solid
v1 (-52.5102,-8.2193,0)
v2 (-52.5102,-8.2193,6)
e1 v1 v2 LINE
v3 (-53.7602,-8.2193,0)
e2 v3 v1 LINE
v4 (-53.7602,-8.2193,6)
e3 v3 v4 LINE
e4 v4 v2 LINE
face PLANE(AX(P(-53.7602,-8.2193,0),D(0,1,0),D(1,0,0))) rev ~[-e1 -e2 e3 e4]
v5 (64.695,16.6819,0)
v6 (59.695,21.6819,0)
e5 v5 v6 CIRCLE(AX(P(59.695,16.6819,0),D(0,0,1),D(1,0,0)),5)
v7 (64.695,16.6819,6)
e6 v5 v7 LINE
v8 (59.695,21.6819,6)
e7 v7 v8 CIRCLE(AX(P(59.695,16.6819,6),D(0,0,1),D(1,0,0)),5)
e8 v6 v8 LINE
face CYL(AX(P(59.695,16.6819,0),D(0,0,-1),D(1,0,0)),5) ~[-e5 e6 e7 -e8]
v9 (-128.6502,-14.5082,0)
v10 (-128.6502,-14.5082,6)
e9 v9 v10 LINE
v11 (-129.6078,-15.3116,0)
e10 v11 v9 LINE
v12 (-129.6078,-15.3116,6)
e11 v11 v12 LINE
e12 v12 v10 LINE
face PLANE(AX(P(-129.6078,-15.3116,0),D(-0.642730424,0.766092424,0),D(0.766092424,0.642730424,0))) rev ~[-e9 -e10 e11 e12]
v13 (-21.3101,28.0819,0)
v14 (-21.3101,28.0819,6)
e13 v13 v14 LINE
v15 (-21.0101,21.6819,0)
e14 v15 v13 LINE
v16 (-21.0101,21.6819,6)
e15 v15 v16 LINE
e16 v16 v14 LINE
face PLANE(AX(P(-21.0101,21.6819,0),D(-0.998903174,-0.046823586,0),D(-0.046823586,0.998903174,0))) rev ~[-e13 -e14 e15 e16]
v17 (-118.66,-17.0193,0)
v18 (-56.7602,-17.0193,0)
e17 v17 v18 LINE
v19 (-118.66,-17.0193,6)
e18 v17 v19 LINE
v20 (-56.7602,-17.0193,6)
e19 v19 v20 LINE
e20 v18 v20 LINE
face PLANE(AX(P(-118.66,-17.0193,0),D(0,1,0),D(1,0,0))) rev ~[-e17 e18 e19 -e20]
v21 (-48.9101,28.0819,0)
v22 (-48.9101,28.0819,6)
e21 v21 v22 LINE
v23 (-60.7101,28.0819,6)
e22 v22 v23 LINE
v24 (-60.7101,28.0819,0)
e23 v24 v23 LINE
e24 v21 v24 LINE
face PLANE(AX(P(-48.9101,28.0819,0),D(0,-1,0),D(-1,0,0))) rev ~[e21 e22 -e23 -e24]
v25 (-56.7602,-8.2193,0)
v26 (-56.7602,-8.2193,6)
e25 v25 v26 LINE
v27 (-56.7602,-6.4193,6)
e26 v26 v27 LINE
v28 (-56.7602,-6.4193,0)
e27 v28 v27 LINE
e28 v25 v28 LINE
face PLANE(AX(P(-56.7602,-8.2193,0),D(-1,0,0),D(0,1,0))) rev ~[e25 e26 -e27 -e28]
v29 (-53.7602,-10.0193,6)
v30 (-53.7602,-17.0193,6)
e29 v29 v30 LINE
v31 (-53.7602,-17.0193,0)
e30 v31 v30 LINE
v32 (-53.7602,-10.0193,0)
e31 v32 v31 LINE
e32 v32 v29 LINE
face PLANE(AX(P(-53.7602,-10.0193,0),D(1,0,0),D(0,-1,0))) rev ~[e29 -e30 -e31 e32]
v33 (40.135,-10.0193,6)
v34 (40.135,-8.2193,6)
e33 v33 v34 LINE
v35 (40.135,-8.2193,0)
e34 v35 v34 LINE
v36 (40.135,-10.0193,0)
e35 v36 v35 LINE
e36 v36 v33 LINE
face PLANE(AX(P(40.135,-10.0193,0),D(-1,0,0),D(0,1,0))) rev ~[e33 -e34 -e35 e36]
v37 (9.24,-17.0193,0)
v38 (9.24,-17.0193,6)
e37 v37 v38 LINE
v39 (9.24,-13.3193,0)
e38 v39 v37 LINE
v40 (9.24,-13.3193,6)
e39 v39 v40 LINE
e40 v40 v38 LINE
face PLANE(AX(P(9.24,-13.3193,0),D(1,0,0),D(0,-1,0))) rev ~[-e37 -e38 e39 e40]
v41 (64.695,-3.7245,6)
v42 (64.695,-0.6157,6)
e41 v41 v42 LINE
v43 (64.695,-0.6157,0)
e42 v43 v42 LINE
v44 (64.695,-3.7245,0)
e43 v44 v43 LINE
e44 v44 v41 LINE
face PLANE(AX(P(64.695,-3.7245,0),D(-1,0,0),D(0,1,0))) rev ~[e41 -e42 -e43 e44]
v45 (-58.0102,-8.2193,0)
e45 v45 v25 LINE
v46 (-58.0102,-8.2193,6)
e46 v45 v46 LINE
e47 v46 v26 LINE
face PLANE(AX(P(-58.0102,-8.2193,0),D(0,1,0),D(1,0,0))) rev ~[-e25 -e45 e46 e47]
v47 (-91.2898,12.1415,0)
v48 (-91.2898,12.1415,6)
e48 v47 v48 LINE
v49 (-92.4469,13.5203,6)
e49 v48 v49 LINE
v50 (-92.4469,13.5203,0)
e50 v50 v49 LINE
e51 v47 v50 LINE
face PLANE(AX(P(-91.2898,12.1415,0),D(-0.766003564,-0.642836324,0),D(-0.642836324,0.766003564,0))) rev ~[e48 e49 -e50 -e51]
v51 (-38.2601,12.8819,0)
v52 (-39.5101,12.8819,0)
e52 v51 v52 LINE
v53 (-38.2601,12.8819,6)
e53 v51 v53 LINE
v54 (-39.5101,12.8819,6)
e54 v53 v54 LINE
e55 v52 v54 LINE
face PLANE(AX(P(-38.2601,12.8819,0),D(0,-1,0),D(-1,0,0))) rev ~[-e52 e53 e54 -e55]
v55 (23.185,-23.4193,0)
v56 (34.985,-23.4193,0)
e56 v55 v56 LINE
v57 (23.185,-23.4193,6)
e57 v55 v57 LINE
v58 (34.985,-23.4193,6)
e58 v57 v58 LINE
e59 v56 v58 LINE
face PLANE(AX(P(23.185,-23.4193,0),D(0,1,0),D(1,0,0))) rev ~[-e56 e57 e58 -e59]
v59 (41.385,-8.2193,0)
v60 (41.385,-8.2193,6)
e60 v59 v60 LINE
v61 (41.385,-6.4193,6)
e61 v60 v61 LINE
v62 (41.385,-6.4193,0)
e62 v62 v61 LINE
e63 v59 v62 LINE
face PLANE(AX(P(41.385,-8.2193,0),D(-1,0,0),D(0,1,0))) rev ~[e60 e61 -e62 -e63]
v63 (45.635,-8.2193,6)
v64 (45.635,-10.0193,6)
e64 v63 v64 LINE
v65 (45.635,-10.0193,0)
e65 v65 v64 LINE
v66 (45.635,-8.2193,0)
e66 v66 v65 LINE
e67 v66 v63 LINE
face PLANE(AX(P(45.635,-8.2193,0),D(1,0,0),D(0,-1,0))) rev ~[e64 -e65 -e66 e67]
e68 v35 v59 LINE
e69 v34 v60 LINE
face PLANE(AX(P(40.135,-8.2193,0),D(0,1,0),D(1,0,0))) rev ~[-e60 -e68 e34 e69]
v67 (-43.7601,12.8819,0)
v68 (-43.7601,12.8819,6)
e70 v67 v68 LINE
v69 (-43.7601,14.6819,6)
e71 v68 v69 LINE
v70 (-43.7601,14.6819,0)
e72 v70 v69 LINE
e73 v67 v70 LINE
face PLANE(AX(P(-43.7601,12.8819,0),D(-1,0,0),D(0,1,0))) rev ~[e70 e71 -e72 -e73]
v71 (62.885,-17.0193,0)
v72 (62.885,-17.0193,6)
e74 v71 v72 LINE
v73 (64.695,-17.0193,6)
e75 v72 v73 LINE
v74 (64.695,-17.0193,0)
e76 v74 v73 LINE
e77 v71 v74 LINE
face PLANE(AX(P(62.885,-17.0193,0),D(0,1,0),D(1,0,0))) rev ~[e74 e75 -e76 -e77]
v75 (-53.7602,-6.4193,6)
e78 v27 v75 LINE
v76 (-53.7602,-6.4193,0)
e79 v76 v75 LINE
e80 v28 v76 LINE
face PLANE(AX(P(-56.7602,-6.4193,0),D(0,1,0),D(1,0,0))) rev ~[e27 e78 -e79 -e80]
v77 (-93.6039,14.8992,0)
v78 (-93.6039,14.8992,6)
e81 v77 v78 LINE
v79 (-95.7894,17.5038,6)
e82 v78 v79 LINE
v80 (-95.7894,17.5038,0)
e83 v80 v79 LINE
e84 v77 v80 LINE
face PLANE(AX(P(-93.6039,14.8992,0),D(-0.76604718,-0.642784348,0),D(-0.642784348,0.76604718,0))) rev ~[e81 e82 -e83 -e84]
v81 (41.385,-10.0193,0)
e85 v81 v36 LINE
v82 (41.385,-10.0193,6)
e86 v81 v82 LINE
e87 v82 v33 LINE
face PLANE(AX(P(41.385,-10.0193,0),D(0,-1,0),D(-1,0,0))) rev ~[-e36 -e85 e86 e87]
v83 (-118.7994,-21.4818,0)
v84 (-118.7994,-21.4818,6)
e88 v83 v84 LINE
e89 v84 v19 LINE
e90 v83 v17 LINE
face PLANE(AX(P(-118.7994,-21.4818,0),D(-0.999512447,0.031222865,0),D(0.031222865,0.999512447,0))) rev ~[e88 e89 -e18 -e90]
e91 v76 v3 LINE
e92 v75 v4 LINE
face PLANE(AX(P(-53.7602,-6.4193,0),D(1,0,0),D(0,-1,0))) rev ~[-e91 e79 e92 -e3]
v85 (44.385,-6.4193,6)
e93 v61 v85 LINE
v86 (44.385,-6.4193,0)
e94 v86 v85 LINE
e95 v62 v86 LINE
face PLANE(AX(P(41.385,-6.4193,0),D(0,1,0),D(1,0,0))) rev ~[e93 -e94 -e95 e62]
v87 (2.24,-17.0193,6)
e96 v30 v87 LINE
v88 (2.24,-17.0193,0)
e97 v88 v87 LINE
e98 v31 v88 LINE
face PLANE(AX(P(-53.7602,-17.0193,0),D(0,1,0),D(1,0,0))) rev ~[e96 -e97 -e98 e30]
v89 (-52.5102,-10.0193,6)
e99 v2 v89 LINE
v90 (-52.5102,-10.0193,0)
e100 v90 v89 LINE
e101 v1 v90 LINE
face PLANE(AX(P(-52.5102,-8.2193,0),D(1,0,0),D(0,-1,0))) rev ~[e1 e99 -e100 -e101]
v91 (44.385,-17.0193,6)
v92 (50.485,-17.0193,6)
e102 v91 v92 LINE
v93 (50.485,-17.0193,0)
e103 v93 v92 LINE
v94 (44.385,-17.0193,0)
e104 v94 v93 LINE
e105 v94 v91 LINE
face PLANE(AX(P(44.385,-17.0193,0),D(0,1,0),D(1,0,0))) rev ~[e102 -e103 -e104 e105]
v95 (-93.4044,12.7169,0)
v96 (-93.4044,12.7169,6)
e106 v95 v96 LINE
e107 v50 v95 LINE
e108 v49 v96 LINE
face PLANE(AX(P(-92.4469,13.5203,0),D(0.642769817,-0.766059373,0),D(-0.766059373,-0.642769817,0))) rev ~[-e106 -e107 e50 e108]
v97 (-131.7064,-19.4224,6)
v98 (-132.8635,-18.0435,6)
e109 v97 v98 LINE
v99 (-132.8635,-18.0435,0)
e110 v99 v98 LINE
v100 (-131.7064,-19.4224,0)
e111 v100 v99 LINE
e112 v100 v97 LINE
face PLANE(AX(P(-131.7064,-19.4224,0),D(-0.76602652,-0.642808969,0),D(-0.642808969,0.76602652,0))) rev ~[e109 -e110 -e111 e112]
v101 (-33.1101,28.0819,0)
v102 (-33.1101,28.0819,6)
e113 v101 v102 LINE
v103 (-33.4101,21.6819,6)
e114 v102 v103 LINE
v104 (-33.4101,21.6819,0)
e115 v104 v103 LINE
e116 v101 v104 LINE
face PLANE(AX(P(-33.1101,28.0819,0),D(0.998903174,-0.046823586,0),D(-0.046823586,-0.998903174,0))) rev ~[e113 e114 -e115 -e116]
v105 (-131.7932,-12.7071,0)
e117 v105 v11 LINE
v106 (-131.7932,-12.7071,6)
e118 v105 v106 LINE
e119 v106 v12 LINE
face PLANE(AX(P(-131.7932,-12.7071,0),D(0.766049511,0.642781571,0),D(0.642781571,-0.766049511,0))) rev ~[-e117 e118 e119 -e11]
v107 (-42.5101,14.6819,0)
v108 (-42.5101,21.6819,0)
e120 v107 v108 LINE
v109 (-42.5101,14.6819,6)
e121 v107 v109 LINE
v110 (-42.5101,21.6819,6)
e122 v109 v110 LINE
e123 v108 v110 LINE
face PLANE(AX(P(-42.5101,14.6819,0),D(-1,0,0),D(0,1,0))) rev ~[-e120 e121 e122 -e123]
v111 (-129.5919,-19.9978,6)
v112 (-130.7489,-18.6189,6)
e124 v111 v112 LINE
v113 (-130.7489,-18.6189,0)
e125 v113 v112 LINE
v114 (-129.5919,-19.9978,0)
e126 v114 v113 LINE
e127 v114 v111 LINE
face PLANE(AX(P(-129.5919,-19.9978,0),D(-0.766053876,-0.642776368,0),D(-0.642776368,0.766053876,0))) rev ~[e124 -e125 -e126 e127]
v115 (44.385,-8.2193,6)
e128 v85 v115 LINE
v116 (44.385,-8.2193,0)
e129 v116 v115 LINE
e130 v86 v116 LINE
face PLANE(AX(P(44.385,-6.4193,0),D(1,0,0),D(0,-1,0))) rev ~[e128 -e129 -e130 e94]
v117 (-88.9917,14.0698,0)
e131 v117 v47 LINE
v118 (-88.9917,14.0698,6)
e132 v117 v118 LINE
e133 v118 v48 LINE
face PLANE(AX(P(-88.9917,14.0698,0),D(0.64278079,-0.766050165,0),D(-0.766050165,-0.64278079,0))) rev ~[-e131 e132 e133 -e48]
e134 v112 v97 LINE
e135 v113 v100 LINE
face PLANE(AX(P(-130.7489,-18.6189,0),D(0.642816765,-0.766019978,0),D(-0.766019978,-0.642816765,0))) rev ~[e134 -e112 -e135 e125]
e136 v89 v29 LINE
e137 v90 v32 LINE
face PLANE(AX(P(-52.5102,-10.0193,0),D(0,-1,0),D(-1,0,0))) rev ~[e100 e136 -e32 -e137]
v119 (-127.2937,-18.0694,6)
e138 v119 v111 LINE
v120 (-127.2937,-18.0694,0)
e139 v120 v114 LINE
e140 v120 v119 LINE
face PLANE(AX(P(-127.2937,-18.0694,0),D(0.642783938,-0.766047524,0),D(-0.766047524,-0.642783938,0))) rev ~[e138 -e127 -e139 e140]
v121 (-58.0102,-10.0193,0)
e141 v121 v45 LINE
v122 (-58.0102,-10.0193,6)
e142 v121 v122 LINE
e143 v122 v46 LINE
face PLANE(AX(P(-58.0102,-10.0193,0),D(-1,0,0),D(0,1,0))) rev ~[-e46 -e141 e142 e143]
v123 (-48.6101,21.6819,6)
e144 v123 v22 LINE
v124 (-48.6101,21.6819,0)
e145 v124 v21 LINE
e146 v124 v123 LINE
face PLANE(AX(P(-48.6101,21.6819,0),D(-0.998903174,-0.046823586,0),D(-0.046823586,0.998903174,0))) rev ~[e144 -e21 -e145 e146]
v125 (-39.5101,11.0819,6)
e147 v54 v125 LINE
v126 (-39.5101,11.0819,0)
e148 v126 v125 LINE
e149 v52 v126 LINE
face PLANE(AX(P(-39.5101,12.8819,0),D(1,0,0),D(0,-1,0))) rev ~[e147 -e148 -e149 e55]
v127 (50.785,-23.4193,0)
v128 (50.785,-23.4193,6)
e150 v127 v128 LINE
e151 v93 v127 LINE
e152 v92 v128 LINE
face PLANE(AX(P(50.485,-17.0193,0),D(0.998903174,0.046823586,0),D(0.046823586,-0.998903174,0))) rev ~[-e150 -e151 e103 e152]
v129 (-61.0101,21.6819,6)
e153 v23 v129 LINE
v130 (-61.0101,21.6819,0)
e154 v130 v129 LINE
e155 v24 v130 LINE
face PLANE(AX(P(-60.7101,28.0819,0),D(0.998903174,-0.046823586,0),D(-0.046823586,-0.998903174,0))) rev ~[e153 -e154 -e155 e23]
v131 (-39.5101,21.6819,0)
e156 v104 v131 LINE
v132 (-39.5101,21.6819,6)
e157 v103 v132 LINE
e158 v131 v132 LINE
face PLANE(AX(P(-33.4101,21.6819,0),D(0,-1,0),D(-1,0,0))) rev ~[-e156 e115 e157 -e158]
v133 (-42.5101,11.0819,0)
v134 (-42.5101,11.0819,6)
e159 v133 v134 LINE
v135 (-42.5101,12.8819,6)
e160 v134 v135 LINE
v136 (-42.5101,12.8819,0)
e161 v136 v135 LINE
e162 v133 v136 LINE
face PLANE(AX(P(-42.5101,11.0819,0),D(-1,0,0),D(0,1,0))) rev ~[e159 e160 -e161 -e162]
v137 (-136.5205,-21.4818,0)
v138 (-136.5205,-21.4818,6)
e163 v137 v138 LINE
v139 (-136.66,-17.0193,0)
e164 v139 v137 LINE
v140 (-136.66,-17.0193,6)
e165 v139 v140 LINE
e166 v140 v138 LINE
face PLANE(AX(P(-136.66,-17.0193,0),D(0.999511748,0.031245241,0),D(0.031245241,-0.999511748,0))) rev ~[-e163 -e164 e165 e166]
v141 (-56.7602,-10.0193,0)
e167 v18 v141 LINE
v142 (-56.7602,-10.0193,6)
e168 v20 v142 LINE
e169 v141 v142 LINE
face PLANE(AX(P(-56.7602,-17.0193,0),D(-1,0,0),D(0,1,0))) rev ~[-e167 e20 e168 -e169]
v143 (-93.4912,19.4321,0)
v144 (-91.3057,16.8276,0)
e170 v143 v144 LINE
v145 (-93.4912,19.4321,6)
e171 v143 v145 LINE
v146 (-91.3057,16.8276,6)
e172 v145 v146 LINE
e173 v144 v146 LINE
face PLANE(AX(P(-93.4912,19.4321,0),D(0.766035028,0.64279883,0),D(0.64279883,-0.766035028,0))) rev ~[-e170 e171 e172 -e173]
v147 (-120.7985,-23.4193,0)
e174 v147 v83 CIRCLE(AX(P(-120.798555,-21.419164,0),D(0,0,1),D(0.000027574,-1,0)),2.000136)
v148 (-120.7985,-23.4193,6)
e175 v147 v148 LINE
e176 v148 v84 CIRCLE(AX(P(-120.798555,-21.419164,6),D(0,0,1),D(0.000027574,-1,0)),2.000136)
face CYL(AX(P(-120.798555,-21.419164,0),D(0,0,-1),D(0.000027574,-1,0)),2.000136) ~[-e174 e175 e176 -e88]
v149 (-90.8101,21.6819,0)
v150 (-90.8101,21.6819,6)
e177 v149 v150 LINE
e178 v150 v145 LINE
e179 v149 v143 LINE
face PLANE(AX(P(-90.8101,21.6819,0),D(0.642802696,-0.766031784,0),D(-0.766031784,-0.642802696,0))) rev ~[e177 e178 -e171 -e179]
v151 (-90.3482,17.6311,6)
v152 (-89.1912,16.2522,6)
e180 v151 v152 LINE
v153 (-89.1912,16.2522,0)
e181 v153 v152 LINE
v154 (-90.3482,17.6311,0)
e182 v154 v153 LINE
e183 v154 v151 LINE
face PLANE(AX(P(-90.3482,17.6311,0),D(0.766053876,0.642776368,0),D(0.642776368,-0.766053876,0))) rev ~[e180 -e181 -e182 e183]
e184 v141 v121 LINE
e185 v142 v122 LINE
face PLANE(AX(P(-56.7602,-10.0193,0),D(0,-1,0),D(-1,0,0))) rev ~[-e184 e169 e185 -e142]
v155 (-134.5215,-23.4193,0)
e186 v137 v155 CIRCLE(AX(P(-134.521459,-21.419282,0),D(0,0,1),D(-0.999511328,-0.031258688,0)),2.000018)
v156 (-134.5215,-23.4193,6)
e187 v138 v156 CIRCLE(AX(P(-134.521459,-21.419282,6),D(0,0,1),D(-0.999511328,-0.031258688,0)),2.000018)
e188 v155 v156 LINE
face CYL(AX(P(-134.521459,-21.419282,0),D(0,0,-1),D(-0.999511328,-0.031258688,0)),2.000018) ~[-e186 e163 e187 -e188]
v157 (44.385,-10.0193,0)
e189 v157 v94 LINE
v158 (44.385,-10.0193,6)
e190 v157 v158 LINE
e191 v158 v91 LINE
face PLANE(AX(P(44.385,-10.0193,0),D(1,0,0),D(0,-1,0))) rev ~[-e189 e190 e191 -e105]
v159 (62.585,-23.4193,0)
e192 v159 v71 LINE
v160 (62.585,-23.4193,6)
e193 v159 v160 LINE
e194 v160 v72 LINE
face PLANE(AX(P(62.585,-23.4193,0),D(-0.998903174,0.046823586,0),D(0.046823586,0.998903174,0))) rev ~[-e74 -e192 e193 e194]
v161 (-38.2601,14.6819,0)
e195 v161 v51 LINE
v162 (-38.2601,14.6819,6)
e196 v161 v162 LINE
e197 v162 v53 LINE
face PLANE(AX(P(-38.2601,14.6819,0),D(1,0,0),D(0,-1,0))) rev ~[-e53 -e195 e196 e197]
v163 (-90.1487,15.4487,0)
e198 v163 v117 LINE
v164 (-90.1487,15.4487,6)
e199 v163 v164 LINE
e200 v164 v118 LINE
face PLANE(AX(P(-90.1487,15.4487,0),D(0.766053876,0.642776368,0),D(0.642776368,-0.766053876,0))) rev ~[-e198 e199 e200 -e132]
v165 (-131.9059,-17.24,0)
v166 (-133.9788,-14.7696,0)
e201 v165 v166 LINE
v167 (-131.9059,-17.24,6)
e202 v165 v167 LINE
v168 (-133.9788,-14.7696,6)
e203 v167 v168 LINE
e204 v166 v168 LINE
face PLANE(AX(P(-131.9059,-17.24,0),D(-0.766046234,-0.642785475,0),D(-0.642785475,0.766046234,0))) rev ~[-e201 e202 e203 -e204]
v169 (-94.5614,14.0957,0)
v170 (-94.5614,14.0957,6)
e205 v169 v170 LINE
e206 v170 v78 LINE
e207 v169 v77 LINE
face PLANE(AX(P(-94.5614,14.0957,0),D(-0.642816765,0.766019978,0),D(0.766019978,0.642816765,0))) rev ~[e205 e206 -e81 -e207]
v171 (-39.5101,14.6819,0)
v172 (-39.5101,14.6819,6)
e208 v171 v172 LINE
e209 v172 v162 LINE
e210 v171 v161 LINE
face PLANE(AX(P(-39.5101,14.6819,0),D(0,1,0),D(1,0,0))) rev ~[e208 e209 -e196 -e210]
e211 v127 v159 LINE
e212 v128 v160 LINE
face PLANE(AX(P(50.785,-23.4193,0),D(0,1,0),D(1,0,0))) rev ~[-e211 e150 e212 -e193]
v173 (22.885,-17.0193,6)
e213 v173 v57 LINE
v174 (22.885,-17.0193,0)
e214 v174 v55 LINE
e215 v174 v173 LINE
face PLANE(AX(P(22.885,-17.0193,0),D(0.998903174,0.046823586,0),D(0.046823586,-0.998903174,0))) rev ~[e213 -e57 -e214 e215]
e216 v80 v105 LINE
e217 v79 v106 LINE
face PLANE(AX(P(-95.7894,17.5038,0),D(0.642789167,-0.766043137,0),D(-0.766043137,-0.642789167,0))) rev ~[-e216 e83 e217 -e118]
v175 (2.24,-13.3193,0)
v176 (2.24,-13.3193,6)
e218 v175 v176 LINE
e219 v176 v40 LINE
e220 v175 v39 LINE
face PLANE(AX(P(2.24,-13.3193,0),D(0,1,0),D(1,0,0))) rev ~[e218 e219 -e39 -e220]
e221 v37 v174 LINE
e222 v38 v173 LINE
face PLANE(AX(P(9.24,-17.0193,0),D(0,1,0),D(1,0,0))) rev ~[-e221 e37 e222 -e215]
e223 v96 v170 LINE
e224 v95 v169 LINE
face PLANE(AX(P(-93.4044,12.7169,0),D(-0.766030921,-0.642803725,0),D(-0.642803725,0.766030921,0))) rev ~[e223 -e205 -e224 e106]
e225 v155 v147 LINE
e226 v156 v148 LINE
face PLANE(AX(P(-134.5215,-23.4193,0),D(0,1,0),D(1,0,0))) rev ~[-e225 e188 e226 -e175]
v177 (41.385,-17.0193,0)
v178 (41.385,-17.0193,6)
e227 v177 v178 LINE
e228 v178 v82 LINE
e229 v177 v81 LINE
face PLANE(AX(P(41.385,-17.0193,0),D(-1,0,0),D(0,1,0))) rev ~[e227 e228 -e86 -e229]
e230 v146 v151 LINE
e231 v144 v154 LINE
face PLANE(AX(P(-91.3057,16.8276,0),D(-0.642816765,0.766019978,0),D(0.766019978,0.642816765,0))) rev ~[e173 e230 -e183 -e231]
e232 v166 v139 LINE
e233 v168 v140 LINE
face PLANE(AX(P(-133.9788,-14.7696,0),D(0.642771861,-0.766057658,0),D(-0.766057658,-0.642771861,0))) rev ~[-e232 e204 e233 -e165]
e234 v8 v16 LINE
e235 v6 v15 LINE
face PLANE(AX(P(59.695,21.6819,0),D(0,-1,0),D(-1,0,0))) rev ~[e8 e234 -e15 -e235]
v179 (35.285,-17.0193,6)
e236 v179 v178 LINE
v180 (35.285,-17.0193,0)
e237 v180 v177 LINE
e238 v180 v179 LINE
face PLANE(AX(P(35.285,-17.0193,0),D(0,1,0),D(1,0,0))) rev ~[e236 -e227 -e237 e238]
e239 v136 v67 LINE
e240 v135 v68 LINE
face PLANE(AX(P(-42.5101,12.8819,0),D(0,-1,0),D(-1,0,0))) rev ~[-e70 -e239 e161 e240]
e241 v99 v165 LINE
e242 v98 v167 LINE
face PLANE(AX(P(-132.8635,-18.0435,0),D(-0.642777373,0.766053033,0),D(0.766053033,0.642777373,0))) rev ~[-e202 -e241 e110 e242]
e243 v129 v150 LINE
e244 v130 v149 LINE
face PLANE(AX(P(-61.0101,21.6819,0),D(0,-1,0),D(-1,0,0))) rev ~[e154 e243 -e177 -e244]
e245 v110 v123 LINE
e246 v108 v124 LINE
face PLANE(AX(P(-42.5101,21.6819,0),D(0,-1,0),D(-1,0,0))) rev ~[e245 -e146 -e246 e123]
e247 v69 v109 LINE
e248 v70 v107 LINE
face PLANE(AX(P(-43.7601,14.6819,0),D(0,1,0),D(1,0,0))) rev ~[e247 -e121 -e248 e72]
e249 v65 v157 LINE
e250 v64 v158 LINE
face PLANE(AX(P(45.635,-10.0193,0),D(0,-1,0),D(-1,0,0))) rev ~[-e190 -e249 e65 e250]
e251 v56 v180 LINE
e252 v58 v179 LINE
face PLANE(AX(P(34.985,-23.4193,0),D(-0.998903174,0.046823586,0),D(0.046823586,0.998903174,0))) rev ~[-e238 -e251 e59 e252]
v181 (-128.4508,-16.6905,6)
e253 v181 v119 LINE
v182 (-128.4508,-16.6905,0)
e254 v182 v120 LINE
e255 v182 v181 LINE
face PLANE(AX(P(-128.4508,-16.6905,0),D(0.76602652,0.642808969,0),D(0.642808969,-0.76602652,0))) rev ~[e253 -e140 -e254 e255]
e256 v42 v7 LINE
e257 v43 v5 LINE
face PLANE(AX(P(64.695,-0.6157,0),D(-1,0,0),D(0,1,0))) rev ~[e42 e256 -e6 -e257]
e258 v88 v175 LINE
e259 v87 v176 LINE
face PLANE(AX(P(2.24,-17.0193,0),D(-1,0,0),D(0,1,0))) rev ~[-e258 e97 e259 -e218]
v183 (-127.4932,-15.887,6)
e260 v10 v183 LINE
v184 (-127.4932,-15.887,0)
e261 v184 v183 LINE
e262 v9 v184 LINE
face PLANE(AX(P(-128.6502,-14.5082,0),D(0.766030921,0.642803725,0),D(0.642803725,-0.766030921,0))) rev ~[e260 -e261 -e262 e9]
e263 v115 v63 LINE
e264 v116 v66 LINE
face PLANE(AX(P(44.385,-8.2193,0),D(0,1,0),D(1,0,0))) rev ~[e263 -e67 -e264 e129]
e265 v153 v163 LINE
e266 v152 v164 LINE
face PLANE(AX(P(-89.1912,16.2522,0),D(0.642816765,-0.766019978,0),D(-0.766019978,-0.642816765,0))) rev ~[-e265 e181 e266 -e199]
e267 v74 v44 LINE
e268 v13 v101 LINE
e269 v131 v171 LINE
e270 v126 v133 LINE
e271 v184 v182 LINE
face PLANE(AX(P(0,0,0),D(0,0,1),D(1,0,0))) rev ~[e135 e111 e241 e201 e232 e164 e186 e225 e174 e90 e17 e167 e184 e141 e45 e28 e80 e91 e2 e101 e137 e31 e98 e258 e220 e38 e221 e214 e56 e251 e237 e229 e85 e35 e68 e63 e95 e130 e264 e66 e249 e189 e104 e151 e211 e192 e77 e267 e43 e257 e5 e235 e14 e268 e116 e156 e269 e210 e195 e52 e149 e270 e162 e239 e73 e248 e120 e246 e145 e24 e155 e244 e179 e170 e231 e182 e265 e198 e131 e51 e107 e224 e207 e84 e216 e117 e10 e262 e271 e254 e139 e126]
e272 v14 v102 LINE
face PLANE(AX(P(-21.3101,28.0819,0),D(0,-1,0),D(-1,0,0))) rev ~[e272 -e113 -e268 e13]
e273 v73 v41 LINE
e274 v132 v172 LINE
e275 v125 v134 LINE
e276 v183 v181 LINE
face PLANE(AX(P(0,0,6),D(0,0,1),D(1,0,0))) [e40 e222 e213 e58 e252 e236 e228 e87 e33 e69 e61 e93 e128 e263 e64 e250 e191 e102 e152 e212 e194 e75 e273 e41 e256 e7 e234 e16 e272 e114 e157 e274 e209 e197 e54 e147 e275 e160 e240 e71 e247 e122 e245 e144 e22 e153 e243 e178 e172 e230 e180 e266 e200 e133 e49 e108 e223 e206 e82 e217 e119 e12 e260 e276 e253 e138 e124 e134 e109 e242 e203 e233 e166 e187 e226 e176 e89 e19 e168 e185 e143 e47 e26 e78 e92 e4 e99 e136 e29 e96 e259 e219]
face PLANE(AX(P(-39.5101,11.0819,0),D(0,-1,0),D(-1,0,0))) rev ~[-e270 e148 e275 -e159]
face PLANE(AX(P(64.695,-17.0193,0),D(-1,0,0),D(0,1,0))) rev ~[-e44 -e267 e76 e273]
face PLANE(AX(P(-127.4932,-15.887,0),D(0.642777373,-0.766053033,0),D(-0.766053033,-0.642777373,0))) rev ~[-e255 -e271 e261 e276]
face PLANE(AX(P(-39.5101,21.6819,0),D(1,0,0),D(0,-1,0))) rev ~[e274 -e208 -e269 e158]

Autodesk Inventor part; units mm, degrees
ref_plane "YZ Plane" through (0, 0, 0) normal (1, 0, 0) x (0, 1, 0)
ref_plane "XZ Plane" through (0, 0, 0) normal (0, 1, 0) x (-1, 0, 0)
ref_plane "XY Plane" through (0, 0, 0) normal (0, 0, 1) x (1, 0, 0)
sketch "Sketch1" plane through (0, 0, 0) normal (0, 0, 1) x (1, 0, 0)
  line L0 (-39.5101, 21.6819) -> (-39.5101, 14.6819)
  line L1 (-39.5101, 14.6819) -> (-38.2601, 14.6819)
  line L2 (-38.2601, 14.6819) -> (-38.2601, 12.8819)
  line L3 (-38.2601, 12.8819) -> (-39.5101, 12.8819)
  line L4 (-39.5101, 12.8819) -> (-39.5101, 11.0819)
  line L5 (-39.5101, 11.0819) -> (-42.5101, 11.0819)
  line L6 (-42.5101, 11.0819) -> (-42.5101, 12.8819)
  line L7 (-42.5101, 12.8819) -> (-43.7601, 12.8819)
  line L8 (-43.7601, 12.8819) -> (-43.7601, 14.6819)
  line L9 (-43.7601, 14.6819) -> (-42.5101, 14.6819)
  line L10 (-42.5101, 14.6819) -> (-42.5101, 21.6819)
  line L11 (-42.5101, 21.6819) -> (-48.6101, 21.6819)
  line L12 (-48.6101, 21.6819) -> (-48.9101, 28.0819)
  line L13 (-48.9101, 28.0819) -> (-60.7101, 28.0819)
  line L14 (-60.7101, 28.0819) -> (-61.0101, 21.6819)
  line L15 (-61.0101, 21.6819) -> (-90.8101, 21.6819)
  line L16 (-90.8101, 21.6819) -> (-93.4912, 19.4321)
  line L17 (-93.4912, 19.4321) -> (-91.3057, 16.8276)
  line L18 (-91.3057, 16.8276) -> (-90.3482, 17.6311)
  line L19 (-90.3482, 17.6311) -> (-89.1912, 16.2522)
  line L20 (-89.1912, 16.2522) -> (-90.1487, 15.4487)
  line L21 (-90.1487, 15.4487) -> (-88.9917, 14.0698)
  line L22 (-88.9917, 14.0698) -> (-91.2898, 12.1415)
  line L23 (-91.2898, 12.1415) -> (-92.4469, 13.5203)
  line L24 (-92.4469, 13.5203) -> (-93.4044, 12.7169)
  line L25 (-93.4044, 12.7169) -> (-94.5614, 14.0957)
  line L26 (-94.5614, 14.0957) -> (-93.6039, 14.8992)
  line L27 (-93.6039, 14.8992) -> (-95.7894, 17.5038)
  line L28 (-95.7894, 17.5038) -> (-131.7932, -12.7071)
  line L29 (-131.7932, -12.7071) -> (-129.6078, -15.3116)
  line L30 (-129.6078, -15.3116) -> (-128.6502, -14.5082)
  line L31 (-128.6502, -14.5082) -> (-127.4932, -15.887)
  line L32 (-127.4932, -15.887) -> (-128.4508, -16.6905)
  line L33 (-128.4508, -16.6905) -> (-127.2937, -18.0694)
  line L34 (-127.2937, -18.0694) -> (-129.5919, -19.9978)
  line L35 (-129.5919, -19.9978) -> (-130.7489, -18.6189)
  line L36 (-130.7489, -18.6189) -> (-131.7064, -19.4224)
  line L37 (-131.7064, -19.4224) -> (-132.8635, -18.0435)
  line L38 (-132.8635, -18.0435) -> (-131.9059, -17.24)
  line L39 (-131.9059, -17.24) -> (-133.9788, -14.7696)
  line L40 (-133.9788, -14.7696) -> (-136.66, -17.0193)
  line L41 (-136.66, -17.0193) -> (-136.5205, -21.4818)
  arc A0 (-136.5205, -21.4818) -> (-134.5215, -23.4193) centre (-134.5215, -21.4193) ccw
  line L42 (-134.5215, -23.4193) -> (-120.7985, -23.4193)
  arc A1 (-120.7985, -23.4193) -> (-118.7994, -21.4818) centre (-120.7985, -21.4193) ccw
  line L43 (-118.7994, -21.4818) -> (-118.66, -17.0193)
  line L44 (-118.66, -17.0193) -> (-56.7602, -17.0193)
  line L45 (-56.7602, -17.0193) -> (-56.7602, -10.0193)
  line L46 (-56.7602, -10.0193) -> (-58.0102, -10.0193)
  line L47 (-58.0102, -10.0193) -> (-58.0102, -8.2193)
  line L48 (-58.0102, -8.2193) -> (-56.7602, -8.2193)
  line L49 (-56.7602, -8.2193) -> (-56.7602, -6.4193)
  line L50 (-56.7602, -6.4193) -> (-53.7602, -6.4193)
  line L51 (-53.7602, -6.4193) -> (-53.7602, -8.2193)
  line L52 (-53.7602, -8.2193) -> (-52.5102, -8.2193)
  line L53 (-52.5102, -8.2193) -> (-52.5102, -10.0193)
  line L54 (-52.5102, -10.0193) -> (-53.7602, -10.0193)
  line L55 (-53.7602, -10.0193) -> (-53.7602, -17.0193)
  line L56 (-53.7602, -17.0193) -> (2.24, -17.0193)
  line L57 (2.24, -17.0193) -> (2.24, -13.3193)
  line L58 (2.24, -13.3193) -> (9.24, -13.3193)
  line L59 (9.24, -13.3193) -> (9.24, -17.0193)
  line L60 (9.24, -17.0193) -> (22.885, -17.0193)
  line L61 (22.885, -17.0193) -> (23.185, -23.4193)
  line L62 (23.185, -23.4193) -> (34.985, -23.4193)
  line L63 (34.985, -23.4193) -> (35.285, -17.0193)
  line L64 (35.285, -17.0193) -> (41.385, -17.0193)
  line L65 (41.385, -17.0193) -> (41.385, -10.0193)
  line L66 (41.385, -10.0193) -> (40.135, -10.0193)
  line L67 (40.135, -10.0193) -> (40.135, -8.2193)
  line L68 (40.135, -8.2193) -> (41.385, -8.2193)
  line L69 (41.385, -8.2193) -> (41.385, -6.4193)
  line L70 (41.385, -6.4193) -> (44.385, -6.4193)
  line L71 (44.385, -6.4193) -> (44.385, -8.2193)
  line L72 (44.385, -8.2193) -> (45.635, -8.2193)
  line L73 (45.635, -8.2193) -> (45.635, -10.0193)
  line L74 (45.635, -10.0193) -> (44.385, -10.0193)
  line L75 (44.385, -10.0193) -> (44.385, -17.0193)
  line L76 (44.385, -17.0193) -> (50.485, -17.0193)
  line L77 (50.485, -17.0193) -> (50.785, -23.4193)
  line L78 (50.785, -23.4193) -> (62.585, -23.4193)
  line L79 (62.585, -23.4193) -> (62.885, -17.0193)
  line L80 (62.885, -17.0193) -> (64.695, -17.0193)
  line L81 (64.695, -17.0193) -> (64.695, -3.7245)
  line L82 (64.695, -3.7245) -> (64.695, -0.6157)
  line L83 (64.695, -0.6157) -> (64.695, 16.6819)
  arc A2 (64.695, 16.6819) -> (59.695, 21.6819) centre (59.695, 16.6819) ccw
  line L84 (59.695, 21.6819) -> (-21.0101, 21.6819)
  line L85 (-21.0101, 21.6819) -> (-21.3101, 28.0819)
  line L86 (-21.3101, 28.0819) -> (-33.1101, 28.0819)
  line L87 (-33.1101, 28.0819) -> (-33.4101, 21.6819)
  line L88 (-33.4101, 21.6819) -> (-39.5101, 21.6819)
  point P0 (0, 0)
  point P1 (0, 0)
extrude "Extrusion1" add sketch "Sketch1" along normal blind 6
properties part number "boardCaseSide"
